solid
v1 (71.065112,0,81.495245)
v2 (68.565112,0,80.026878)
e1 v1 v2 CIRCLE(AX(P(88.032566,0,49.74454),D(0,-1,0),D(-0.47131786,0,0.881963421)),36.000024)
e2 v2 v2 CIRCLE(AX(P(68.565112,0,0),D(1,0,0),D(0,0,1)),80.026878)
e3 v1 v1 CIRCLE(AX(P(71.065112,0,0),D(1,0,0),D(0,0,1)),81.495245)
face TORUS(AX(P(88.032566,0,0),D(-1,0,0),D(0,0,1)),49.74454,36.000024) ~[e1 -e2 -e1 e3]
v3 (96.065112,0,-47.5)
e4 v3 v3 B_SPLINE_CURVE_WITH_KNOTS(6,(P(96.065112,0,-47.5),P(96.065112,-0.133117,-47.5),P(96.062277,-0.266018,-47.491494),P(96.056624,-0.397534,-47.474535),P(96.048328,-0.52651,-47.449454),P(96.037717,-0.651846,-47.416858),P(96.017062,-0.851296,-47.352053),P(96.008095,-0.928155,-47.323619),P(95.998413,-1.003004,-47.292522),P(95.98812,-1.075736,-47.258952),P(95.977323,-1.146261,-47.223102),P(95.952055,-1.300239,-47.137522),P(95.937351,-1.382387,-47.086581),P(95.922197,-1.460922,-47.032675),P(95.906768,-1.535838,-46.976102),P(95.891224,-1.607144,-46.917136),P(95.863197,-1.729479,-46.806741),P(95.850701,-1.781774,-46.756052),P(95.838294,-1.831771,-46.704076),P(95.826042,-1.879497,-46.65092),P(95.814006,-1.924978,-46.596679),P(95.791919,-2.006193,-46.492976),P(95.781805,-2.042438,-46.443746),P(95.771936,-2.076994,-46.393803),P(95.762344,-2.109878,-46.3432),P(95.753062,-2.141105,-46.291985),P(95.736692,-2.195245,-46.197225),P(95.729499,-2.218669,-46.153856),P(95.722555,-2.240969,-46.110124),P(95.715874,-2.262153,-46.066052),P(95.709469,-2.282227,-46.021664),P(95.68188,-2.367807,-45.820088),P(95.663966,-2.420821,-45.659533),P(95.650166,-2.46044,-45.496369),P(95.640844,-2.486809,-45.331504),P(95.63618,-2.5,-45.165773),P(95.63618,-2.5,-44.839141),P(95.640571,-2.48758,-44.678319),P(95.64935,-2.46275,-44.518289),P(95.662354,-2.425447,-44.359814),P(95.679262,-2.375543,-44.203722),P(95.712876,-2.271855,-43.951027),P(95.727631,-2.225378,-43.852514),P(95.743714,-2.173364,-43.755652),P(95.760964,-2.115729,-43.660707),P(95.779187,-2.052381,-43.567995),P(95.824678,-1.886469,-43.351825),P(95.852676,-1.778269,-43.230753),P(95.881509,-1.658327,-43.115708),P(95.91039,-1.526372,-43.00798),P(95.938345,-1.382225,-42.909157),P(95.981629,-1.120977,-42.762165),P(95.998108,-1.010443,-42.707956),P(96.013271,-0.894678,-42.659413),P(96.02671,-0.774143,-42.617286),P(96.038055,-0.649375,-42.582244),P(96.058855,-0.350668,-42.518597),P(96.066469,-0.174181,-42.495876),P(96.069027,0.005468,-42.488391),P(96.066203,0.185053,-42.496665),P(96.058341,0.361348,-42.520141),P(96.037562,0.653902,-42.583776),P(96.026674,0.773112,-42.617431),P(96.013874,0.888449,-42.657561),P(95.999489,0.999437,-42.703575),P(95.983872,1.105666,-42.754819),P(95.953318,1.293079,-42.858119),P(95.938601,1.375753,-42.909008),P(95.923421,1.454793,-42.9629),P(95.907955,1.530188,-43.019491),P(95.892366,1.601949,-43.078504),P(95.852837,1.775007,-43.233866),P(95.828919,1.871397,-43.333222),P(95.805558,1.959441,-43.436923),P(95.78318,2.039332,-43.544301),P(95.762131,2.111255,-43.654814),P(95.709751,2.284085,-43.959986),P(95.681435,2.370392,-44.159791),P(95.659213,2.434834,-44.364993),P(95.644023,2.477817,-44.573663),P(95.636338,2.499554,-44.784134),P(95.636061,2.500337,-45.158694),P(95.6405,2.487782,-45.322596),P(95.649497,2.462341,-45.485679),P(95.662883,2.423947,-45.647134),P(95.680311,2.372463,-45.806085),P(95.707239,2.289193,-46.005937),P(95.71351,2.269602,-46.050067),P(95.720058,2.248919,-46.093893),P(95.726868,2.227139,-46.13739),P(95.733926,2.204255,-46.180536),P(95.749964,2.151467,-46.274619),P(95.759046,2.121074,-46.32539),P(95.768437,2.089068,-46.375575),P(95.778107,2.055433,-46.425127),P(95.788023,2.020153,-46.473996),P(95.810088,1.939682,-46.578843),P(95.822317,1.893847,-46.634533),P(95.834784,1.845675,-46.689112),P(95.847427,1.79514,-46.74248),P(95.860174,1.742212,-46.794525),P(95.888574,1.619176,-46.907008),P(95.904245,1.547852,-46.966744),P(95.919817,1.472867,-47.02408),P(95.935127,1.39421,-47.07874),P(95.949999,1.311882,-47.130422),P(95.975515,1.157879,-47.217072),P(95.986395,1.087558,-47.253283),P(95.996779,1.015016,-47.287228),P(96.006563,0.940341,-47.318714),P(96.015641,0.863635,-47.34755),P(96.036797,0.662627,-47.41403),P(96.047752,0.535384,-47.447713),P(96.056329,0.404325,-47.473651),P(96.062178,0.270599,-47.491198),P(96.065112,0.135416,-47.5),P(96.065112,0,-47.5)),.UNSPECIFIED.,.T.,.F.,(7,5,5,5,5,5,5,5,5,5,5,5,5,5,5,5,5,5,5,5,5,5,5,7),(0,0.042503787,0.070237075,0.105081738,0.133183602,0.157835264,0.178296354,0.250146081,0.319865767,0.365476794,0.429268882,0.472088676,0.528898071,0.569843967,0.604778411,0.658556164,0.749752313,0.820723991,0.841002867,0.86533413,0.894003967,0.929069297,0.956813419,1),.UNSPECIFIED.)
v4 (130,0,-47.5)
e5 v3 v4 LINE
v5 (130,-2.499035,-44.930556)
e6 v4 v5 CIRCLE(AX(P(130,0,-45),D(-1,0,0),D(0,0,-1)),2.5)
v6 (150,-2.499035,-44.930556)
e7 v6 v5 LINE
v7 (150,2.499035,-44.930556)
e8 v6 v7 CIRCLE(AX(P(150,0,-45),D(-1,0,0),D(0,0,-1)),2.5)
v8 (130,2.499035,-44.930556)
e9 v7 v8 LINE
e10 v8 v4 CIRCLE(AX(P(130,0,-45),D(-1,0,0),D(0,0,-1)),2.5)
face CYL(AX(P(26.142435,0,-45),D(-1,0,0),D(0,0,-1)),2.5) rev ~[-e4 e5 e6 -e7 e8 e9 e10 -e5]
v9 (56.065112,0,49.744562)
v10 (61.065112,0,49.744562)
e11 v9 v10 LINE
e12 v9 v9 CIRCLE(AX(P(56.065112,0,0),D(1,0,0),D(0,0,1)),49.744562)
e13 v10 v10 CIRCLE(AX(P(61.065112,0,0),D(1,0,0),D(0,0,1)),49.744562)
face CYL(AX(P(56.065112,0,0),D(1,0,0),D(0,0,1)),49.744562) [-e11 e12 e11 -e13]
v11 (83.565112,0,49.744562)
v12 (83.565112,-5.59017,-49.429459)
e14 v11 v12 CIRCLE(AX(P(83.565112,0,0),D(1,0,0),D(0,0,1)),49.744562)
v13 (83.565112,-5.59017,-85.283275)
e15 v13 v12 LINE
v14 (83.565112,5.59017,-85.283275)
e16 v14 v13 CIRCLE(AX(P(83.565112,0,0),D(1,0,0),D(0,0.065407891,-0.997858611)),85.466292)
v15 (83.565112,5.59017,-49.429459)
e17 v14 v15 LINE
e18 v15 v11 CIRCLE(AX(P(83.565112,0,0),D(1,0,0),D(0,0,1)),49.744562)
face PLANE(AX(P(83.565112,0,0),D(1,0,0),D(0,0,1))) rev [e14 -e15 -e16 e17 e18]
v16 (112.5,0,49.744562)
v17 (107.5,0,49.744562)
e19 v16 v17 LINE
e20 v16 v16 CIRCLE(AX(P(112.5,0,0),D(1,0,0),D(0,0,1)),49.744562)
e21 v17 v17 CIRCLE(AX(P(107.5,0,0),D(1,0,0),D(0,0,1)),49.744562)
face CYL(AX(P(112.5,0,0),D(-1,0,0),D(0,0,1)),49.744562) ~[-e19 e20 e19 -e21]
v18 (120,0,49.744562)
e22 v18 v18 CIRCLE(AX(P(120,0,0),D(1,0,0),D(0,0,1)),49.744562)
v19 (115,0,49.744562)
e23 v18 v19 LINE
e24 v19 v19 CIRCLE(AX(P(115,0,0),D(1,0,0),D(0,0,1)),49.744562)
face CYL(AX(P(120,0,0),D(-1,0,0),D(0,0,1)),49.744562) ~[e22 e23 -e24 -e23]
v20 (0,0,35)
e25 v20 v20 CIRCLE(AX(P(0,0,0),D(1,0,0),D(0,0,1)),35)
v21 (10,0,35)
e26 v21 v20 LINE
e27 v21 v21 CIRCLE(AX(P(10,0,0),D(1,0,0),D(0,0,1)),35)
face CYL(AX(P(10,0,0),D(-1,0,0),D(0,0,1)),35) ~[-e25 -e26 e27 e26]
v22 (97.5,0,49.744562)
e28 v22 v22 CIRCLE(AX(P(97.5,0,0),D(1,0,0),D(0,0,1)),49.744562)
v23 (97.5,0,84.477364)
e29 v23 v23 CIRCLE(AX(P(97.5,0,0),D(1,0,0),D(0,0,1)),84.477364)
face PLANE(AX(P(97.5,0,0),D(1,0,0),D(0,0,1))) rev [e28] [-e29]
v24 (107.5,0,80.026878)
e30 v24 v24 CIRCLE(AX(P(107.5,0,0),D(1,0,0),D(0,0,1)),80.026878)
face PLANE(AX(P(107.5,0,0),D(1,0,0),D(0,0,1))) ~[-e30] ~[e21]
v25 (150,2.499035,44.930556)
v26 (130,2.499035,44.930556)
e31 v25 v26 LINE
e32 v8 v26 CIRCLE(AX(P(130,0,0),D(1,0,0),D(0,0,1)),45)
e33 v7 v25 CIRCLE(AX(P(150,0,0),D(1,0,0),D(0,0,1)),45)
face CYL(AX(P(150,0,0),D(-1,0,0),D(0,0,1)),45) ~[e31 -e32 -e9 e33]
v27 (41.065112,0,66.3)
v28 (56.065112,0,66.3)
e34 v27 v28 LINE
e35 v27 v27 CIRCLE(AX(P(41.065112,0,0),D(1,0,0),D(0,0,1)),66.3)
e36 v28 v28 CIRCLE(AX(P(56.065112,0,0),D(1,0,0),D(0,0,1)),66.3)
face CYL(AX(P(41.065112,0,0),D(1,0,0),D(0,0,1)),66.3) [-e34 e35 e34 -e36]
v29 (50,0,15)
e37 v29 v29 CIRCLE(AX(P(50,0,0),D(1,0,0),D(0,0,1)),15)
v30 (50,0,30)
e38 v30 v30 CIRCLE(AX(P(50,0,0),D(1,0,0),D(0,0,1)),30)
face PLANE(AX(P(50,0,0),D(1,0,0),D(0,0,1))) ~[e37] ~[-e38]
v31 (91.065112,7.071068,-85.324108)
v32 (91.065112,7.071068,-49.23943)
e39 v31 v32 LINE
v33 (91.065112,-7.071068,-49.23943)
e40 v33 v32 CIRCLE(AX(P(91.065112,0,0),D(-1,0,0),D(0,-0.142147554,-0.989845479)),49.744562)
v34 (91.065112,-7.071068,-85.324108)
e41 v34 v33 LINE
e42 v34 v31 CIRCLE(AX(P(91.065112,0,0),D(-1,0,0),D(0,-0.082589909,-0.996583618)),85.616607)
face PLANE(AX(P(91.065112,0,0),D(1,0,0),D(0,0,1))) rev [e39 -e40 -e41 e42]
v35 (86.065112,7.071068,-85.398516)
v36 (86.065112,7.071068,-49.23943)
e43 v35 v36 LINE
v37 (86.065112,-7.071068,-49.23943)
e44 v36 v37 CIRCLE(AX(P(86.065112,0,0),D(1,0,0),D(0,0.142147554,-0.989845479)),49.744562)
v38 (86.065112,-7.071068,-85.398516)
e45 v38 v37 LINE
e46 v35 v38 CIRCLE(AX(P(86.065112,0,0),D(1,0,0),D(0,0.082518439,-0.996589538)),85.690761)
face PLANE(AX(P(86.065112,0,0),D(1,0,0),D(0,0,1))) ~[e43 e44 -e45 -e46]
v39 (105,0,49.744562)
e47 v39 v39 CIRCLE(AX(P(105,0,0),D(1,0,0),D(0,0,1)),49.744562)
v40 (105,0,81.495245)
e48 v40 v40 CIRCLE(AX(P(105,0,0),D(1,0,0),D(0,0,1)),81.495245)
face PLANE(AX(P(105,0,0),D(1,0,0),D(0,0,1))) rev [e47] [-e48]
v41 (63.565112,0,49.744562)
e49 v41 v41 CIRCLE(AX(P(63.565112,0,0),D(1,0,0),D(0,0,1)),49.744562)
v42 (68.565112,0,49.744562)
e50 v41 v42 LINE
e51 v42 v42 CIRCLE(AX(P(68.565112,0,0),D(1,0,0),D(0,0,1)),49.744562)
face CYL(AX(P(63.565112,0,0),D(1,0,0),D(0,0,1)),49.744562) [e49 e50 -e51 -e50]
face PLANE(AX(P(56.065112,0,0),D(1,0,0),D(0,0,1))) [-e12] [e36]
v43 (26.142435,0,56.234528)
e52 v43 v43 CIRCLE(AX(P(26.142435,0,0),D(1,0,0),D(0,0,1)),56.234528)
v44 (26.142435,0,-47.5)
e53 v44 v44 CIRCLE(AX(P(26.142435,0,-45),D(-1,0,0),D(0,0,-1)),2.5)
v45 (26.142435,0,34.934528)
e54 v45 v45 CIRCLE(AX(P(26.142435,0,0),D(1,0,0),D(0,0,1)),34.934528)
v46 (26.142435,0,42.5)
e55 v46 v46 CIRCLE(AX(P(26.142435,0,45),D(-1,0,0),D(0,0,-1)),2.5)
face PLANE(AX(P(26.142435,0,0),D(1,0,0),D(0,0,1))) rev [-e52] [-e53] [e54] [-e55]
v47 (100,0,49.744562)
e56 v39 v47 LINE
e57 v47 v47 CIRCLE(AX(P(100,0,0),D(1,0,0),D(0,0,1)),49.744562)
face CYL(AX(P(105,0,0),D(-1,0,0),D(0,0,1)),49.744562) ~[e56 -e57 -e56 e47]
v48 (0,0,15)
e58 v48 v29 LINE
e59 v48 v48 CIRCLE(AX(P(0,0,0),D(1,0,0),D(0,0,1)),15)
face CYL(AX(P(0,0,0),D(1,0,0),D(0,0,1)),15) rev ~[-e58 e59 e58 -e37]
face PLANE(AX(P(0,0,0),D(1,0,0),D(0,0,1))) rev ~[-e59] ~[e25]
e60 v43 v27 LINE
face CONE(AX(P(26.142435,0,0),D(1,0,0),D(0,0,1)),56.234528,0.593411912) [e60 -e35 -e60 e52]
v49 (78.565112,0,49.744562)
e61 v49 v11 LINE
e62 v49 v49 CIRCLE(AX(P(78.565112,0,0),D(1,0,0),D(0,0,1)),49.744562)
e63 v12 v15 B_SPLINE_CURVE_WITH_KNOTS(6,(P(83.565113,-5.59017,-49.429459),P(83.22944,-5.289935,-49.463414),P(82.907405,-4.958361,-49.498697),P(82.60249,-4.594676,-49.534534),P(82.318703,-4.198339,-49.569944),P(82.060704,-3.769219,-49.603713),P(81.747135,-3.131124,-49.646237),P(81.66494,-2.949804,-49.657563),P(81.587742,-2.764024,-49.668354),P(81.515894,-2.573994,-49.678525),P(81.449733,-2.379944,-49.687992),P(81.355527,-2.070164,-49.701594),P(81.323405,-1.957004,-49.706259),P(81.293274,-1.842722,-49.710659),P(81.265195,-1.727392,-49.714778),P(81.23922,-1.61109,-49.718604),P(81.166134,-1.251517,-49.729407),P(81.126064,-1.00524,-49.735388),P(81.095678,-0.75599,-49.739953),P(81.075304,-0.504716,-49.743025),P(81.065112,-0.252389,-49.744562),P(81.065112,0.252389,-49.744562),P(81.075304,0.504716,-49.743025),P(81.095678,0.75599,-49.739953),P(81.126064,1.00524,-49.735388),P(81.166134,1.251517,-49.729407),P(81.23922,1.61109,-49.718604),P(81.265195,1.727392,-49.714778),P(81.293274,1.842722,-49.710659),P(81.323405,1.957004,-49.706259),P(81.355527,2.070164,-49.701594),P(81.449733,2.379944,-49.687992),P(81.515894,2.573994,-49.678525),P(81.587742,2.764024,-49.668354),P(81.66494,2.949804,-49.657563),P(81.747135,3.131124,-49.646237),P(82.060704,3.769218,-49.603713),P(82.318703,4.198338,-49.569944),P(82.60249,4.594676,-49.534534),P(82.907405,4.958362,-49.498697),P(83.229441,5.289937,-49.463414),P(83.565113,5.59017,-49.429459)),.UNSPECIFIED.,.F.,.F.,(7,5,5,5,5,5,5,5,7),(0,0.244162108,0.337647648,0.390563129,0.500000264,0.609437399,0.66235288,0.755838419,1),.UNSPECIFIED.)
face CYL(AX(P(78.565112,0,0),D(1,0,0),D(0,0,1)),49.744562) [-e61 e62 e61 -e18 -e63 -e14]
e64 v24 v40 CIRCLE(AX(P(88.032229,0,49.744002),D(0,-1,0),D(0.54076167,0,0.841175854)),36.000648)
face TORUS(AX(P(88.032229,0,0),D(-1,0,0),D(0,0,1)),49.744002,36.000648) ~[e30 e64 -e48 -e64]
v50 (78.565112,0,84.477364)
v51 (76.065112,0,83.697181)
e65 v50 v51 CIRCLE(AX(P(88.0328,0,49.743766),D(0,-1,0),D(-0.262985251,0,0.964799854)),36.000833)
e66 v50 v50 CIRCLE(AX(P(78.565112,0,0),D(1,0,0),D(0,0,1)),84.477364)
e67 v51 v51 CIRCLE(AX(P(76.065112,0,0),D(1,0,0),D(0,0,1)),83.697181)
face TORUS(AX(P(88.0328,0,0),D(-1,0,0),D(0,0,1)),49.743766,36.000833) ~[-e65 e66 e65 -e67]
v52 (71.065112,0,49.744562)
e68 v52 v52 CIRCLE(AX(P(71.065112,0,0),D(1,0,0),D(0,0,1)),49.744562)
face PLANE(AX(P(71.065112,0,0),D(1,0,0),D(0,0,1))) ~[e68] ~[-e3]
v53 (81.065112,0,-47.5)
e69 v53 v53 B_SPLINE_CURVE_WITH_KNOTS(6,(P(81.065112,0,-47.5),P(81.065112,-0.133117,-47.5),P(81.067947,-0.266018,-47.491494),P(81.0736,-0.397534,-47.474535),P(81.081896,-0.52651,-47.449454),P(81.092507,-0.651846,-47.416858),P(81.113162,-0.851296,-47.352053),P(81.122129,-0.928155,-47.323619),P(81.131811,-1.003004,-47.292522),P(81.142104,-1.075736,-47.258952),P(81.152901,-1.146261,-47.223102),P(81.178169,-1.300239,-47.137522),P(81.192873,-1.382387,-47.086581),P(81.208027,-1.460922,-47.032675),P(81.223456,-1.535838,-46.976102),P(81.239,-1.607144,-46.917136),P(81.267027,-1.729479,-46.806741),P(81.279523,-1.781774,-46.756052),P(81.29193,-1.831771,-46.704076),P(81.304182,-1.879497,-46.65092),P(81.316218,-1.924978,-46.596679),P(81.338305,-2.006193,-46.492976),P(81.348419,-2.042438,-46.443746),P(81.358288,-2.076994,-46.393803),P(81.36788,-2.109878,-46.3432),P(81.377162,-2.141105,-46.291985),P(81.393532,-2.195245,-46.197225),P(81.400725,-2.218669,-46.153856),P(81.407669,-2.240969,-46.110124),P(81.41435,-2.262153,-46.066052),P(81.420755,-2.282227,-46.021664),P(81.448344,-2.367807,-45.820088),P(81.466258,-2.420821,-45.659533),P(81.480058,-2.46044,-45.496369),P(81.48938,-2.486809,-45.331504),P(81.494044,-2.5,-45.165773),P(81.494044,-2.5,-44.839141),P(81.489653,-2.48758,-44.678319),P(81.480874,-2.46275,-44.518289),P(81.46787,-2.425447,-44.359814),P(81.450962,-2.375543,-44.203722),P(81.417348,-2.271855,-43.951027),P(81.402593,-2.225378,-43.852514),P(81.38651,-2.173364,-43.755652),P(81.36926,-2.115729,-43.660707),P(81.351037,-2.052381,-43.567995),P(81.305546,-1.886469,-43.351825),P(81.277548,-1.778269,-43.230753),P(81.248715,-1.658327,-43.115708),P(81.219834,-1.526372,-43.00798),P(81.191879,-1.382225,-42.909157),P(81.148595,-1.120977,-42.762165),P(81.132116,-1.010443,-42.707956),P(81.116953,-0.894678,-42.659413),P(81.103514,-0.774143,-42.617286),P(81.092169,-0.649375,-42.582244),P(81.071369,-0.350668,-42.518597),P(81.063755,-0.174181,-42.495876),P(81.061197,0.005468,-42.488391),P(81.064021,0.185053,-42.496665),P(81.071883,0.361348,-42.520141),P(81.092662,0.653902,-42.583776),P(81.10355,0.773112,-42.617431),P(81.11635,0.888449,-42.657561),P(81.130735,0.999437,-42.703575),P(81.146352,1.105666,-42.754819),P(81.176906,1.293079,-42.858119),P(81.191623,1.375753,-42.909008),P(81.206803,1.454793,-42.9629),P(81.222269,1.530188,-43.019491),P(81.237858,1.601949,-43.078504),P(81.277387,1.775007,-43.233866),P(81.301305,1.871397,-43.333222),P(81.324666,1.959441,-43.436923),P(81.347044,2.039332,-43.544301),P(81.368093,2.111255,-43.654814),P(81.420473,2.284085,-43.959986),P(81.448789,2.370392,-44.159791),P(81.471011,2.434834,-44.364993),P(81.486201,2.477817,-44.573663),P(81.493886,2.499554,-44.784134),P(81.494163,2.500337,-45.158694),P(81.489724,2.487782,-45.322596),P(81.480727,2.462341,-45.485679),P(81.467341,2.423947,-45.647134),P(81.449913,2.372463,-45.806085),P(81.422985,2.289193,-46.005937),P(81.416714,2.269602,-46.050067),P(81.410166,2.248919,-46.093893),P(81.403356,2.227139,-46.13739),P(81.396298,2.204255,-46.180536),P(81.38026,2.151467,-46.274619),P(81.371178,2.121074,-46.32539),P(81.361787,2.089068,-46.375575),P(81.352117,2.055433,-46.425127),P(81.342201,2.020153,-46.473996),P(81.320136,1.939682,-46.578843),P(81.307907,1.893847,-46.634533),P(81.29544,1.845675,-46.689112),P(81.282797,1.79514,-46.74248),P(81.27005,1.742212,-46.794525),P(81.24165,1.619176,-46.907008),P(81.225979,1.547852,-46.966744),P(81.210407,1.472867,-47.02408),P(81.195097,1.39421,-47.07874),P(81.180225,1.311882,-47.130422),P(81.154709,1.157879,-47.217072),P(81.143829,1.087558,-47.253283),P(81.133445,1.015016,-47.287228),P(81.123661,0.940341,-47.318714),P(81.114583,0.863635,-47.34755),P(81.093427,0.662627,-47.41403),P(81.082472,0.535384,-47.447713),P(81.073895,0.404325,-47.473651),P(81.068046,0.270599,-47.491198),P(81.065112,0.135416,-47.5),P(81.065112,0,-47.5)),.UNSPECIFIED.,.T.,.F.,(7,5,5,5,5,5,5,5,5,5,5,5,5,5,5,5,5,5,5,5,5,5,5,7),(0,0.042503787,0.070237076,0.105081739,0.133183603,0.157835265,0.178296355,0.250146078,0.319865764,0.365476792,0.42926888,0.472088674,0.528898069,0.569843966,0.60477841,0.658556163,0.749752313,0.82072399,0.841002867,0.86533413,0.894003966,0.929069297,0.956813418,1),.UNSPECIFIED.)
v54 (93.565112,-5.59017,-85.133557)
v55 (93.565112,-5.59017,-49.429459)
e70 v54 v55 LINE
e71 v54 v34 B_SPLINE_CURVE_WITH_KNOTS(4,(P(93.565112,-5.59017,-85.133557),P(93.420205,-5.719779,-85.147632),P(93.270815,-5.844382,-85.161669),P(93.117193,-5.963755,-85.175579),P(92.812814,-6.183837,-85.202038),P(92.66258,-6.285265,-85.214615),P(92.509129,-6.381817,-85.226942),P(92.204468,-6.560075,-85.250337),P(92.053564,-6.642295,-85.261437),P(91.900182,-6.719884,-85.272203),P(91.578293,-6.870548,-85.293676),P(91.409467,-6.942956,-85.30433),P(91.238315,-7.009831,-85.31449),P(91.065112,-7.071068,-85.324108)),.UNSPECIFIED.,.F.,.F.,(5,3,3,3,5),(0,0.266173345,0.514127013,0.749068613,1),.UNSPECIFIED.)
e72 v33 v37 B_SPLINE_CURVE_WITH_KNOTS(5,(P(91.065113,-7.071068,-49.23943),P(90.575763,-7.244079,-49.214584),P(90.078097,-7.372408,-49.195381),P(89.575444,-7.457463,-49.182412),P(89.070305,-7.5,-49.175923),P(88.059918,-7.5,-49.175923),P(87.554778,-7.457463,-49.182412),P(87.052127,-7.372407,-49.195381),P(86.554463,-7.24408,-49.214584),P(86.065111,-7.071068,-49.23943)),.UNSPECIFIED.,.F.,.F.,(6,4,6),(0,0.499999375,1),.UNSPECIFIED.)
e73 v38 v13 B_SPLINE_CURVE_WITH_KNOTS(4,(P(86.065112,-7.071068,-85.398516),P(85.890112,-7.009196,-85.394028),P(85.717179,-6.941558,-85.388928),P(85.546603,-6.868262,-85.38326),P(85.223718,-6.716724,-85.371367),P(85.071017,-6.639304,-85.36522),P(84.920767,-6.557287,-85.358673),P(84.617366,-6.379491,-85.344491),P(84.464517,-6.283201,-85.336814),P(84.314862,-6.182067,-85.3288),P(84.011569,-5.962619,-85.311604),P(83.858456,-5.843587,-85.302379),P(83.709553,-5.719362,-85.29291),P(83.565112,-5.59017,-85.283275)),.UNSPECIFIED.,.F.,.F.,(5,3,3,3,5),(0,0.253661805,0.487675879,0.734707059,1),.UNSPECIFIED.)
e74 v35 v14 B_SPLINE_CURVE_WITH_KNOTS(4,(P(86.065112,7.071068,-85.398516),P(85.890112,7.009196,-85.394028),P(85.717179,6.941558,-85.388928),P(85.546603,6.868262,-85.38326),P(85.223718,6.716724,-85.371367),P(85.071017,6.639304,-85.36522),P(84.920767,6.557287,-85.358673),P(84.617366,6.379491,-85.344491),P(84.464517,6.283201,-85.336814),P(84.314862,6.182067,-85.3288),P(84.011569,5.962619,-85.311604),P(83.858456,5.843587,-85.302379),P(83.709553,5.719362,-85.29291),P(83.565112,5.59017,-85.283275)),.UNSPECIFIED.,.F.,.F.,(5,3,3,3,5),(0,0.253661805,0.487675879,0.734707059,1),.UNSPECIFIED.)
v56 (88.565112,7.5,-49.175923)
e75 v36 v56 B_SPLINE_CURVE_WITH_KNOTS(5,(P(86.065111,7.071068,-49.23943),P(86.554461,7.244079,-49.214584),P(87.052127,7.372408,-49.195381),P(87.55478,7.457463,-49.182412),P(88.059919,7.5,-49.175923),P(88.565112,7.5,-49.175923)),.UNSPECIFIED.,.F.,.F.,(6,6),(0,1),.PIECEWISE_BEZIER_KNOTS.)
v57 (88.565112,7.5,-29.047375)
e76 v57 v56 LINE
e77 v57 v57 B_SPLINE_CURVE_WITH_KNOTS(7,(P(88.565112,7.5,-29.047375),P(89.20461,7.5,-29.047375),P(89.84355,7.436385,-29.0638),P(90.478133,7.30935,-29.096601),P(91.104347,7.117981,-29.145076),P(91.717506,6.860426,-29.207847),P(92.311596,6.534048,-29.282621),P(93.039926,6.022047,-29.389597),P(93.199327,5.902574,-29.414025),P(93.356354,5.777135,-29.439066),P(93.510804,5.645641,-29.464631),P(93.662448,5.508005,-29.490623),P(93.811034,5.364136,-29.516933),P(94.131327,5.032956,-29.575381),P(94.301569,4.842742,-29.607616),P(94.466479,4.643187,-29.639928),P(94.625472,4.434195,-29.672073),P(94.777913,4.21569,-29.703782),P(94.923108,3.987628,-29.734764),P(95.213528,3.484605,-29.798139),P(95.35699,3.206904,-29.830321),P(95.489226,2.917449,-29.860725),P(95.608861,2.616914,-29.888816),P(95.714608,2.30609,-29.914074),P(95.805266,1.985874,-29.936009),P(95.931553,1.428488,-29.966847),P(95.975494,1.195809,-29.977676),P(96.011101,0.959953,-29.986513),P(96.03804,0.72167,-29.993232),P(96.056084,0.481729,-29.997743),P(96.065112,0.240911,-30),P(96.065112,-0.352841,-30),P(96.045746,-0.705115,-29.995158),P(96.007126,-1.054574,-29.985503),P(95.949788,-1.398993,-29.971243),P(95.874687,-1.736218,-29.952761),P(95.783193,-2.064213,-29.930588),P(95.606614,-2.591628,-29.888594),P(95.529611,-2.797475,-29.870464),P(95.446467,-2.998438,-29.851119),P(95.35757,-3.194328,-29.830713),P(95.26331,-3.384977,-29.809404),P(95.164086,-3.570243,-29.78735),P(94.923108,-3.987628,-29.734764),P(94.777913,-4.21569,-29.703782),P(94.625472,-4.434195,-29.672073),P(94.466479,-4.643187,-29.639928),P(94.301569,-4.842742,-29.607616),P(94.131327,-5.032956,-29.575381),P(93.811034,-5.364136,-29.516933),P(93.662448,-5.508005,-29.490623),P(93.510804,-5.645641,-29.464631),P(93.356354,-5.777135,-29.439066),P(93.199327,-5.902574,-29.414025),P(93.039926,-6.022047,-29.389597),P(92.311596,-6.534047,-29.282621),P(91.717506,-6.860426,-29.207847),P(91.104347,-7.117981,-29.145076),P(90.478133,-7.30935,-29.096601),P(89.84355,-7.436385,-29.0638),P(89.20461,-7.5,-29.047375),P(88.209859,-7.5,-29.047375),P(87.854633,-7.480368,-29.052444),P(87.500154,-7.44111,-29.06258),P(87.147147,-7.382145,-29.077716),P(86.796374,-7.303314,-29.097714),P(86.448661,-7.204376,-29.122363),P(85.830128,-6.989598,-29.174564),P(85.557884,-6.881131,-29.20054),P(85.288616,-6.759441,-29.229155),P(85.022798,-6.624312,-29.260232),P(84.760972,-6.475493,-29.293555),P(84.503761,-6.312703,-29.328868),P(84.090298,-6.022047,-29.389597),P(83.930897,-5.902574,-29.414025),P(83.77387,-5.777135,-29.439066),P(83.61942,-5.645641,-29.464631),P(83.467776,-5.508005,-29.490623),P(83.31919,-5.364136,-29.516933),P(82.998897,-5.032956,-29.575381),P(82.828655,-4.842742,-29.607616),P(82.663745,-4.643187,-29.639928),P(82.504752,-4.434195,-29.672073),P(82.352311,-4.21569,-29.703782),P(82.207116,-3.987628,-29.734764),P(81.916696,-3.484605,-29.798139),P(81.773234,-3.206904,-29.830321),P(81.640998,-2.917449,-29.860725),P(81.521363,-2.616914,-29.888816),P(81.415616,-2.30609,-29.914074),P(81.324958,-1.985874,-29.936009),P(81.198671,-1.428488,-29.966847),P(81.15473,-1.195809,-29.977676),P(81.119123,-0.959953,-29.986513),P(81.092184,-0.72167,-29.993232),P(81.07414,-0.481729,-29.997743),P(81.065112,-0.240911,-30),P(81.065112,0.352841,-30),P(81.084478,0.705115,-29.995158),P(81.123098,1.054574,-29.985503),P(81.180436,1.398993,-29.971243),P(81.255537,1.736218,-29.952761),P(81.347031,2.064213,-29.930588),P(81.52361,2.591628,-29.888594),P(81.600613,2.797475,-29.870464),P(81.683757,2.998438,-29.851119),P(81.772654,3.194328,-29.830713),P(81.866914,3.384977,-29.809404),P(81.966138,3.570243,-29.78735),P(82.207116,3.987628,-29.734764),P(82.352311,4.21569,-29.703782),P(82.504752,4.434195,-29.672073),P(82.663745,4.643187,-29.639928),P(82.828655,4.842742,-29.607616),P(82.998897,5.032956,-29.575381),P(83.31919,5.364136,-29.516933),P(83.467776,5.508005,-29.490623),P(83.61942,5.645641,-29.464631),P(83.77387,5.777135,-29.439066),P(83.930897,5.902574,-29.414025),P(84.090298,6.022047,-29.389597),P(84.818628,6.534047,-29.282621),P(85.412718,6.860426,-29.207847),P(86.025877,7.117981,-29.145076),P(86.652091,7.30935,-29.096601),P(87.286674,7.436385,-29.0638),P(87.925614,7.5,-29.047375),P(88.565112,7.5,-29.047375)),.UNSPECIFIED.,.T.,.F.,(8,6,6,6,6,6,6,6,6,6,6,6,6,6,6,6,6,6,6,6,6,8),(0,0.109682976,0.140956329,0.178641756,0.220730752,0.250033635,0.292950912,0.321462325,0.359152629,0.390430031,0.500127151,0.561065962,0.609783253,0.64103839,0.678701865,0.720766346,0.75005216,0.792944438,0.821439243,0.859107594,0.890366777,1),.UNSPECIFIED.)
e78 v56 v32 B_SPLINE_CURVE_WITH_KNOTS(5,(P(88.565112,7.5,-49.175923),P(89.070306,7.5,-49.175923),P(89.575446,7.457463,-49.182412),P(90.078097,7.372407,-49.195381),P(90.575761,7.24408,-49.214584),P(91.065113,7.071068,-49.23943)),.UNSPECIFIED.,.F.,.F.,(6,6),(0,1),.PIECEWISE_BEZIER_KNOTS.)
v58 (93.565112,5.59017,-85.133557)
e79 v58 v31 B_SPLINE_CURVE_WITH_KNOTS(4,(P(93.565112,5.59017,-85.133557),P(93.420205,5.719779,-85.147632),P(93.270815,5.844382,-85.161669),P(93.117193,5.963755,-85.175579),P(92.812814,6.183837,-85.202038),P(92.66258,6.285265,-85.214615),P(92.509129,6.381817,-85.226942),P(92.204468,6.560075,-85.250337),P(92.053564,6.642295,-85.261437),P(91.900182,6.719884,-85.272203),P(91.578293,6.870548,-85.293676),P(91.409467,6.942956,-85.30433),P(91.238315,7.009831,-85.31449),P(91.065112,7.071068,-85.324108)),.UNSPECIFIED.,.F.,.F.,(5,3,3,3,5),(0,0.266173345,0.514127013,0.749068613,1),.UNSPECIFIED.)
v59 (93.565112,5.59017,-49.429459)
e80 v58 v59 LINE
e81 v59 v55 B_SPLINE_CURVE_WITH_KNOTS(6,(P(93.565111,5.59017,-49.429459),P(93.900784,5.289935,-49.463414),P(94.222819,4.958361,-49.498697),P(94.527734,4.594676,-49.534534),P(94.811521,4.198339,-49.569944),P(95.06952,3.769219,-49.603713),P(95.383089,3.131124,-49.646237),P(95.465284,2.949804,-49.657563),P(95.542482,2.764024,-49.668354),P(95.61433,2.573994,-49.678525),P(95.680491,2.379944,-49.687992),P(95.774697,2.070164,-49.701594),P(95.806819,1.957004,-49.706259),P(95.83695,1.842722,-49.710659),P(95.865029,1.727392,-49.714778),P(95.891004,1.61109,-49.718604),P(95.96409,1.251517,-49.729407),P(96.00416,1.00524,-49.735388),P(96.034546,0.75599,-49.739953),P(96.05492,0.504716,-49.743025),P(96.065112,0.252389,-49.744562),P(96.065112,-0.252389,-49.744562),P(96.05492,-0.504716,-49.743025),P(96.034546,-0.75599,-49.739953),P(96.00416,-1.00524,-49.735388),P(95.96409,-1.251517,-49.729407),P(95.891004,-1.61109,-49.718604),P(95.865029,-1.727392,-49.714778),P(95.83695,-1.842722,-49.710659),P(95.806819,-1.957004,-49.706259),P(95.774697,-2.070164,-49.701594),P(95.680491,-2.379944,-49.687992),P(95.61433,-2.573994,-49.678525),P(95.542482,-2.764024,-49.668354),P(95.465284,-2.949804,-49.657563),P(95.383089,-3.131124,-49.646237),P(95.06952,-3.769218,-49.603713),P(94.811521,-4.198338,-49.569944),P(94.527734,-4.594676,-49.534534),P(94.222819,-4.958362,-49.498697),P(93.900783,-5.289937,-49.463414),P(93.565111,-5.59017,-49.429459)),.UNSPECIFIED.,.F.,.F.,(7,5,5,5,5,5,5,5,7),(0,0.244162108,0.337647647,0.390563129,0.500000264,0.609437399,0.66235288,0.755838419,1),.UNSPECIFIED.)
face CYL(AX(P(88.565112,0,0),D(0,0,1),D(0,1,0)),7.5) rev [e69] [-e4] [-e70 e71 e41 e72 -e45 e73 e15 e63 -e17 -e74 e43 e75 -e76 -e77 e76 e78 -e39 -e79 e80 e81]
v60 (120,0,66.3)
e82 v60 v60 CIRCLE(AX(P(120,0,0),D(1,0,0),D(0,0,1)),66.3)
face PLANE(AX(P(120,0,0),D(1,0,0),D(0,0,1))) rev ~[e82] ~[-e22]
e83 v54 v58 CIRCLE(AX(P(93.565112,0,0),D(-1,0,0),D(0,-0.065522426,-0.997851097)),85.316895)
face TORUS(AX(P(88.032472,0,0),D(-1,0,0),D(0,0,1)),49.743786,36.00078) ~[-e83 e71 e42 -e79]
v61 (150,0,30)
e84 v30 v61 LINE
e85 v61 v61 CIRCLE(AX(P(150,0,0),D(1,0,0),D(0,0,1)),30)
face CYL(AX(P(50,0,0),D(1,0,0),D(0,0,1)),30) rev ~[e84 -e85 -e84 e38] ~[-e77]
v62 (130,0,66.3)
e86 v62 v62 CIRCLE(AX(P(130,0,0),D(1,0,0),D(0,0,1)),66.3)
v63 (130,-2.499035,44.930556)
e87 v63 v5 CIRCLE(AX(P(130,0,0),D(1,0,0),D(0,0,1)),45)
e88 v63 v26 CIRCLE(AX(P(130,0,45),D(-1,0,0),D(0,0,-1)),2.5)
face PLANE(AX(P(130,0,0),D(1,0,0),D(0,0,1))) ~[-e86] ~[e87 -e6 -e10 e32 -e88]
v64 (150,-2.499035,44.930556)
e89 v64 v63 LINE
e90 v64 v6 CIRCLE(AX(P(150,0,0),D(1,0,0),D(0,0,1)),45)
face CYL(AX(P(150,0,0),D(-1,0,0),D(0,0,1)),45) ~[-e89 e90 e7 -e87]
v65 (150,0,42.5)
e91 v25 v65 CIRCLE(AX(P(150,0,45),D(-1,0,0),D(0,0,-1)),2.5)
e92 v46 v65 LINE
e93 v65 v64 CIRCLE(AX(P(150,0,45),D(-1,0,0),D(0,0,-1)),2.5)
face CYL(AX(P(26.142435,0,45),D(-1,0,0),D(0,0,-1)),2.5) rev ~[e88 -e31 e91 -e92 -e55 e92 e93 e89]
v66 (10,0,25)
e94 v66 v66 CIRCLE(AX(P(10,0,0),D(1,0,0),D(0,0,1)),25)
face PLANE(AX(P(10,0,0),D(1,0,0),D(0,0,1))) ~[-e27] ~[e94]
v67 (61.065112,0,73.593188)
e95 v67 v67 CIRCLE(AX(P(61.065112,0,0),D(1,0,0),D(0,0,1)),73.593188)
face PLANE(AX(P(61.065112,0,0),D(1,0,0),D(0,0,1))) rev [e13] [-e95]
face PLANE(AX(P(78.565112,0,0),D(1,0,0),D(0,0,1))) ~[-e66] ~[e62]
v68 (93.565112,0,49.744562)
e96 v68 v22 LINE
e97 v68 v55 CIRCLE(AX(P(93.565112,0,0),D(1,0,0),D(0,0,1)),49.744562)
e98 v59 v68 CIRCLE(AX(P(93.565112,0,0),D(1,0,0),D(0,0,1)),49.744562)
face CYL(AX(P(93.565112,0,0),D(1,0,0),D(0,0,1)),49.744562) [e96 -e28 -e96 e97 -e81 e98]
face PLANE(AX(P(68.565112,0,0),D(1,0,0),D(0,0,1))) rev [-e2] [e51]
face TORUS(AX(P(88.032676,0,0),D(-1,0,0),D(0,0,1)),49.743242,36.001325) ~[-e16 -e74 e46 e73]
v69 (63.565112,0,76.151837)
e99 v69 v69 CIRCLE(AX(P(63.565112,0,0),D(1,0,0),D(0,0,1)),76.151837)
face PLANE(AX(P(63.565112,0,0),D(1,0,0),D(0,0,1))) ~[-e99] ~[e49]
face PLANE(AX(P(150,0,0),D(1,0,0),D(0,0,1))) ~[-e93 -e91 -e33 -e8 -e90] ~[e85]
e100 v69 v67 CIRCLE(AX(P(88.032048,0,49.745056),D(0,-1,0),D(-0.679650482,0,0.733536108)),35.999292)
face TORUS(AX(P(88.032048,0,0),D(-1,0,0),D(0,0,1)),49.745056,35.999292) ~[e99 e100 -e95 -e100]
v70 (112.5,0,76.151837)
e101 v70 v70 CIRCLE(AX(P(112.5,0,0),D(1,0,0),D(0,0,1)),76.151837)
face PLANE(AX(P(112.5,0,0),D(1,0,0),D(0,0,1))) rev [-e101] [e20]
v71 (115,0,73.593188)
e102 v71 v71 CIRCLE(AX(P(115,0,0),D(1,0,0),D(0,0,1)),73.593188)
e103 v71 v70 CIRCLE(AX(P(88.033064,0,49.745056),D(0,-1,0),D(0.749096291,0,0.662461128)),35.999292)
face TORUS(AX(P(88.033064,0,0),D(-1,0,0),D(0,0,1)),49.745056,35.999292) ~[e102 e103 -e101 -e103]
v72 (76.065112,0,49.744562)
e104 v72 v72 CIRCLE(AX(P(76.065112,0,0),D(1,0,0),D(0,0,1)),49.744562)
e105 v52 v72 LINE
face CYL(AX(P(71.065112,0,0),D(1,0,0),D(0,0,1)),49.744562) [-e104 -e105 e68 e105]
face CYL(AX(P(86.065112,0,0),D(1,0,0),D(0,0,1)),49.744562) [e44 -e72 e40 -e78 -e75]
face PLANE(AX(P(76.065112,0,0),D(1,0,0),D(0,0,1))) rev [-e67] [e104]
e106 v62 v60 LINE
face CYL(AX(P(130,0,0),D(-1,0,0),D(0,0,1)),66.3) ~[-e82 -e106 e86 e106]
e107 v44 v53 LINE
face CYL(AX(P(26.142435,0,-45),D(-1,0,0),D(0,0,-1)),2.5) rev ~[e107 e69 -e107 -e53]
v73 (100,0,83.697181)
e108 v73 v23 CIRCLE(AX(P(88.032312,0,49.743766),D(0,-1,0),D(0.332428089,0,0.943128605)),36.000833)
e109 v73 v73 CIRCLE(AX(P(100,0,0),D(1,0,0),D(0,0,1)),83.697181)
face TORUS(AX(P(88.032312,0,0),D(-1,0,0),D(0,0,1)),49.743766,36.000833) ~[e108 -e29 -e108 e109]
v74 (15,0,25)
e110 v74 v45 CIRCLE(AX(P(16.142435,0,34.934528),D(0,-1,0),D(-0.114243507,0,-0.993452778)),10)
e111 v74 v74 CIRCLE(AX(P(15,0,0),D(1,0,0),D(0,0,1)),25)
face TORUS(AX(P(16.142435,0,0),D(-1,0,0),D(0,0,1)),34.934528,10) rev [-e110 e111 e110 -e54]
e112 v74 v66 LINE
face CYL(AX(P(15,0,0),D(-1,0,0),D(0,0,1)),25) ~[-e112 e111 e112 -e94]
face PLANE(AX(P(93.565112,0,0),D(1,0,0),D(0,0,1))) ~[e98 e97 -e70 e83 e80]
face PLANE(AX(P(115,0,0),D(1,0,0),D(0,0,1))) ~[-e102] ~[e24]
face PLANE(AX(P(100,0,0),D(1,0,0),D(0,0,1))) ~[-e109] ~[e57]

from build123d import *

# Parameters (mm, degrees)
SKETCH001_R     = 7.5
POCKET_DEPTH    = 85.691761
SKETCH002_R     = 2.5
POCKET001_DEPTH = 123.858565


with BuildPart() as part:
    # Sketch → Revolution (revolve)
    with BuildSketch(Plane.XZ):
        with BuildLine():
            Line((0, 15), (50, 15))
            Line((50, 15), (50, 30))
            Line((50, 30), (150, 30))
            Line((150, 30), (150, 45))
            Line((150, 45), (130, 45))
            Line((130, 45), (130, 66.3))
            Line((130, 66.3), (120, 66.3))
            Line((120, 66.3), (120, 49.744562))
            Line((120, 49.744562), (115, 49.744562))
            Line((115, 49.744562), (115, 73.593188))
            ThreePointArc((115, 73.593188), (113.781801, 74.903585), (112.5, 76.151837))
            Line((112.5, 49.744562), (112.5, 76.151837))
            Line((112.5, 49.744562), (107.5, 49.744562))
            Line((107.5, 49.744562), (107.5, 80.026878))
            ThreePointArc((107.5, 80.026878), (106.264788, 80.786239), (105, 81.495245))
            Line((105, 49.744562), (105, 81.495245))
            Line((105, 49.744562), (100, 49.744562))
            Line((100, 49.744562), (100, 83.697181))
            ThreePointArc((100, 83.697181), (98.757097, 84.110013), (97.5, 84.477364))
            Line((97.5, 49.744562), (97.5, 84.477364))
            Line((93.565112, 49.744562), (97.5, 49.744562))
            Line((93.565112, 49.744562), (93.565112, 85.316895))
            ThreePointArc((93.565112, 85.316895), (92.317733, 85.488614), (91.065112, 85.616607))
            Line((91.065112, 49.744562), (91.065112, 85.616607))
            Line((86.065112, 49.744562), (91.065112, 49.744562))
            Line((86.065112, 49.744562), (86.065112, 85.690761))
            ThreePointArc((86.065112, 85.690761), (84.813155, 85.600321), (83.565112, 85.466292))
            Line((83.565112, 49.744562), (83.565112, 85.466292))
            Line((78.565112, 49.744562), (83.565112, 49.744562))
            Line((78.565112, 49.744562), (78.565112, 84.477364))
            ThreePointArc((78.565112, 84.477364), (77.308015, 84.110013), (76.065112, 83.697181))
            Line((76.065112, 49.744562), (76.065112, 83.697181))
            Line((71.065112, 49.744562), (76.065112, 49.744562))
            Line((71.065112, 49.744562), (71.065112, 81.495245))
            ThreePointArc((71.065112, 81.495245), (69.800323, 80.786239), (68.565112, 80.026878))
            Line((68.565112, 49.744562), (68.565112, 80.026878))
            Line((63.565112, 49.744562), (68.565112, 49.744562))
            Line((63.565112, 49.744562), (63.565112, 76.151837))
            ThreePointArc((63.565112, 76.151837), (62.283311, 74.903585), (61.065112, 73.593188))
            Line((61.065112, 49.744562), (61.065112, 73.593188))
            Line((56.065112, 49.744562), (61.065112, 49.744562))
            Line((56.065112, 66.3), (56.065112, 49.744562))
            Line((41.065112, 66.3), (56.065112, 66.3))
            Line((26.142435, 56.234528), (41.065112, 66.3))
            Line((26.142435, 34.934528), (26.142435, 56.234528))
            ThreePointArc((15, 25), (22.797345, 27.470469), (26.142435, 34.934528))
            Line((15, 25), (10, 25))
            Line((10, 25), (10, 35))
            Line((10, 35), (0, 35))
            Line((0, 35), (0, 15))
        make_face()
    revolve(axis=Axis((0, 0, 0), (1, 0, 0)))

    # Sketch001 (on DatumPlane) → Pocket (cut, through all)
    with BuildSketch(Plane(origin=(48.565112, 0, 0), x_dir=(0, 1, 0), z_dir=(0, 0, -1))):
        with Locations((0, 40)):
            Circle(SKETCH001_R)
    extrude(amount=POCKET_DEPTH, mode=Mode.SUBTRACT)

    # Sketch002 (on Face4 of Pocket) → Pocket001 (cut, through all)
    with BuildSketch(Plane(origin=(26.142435, 0, 0), x_dir=(0, 0, -1), z_dir=(-1, 0, 0))):
        with Locations((-45, 0)):
            Circle(SKETCH002_R)
        with Locations((45, 0)):
            Circle(SKETCH002_R)
    extrude(amount=-POCKET001_DEPTH, mode=Mode.SUBTRACT)


solid = part.part
